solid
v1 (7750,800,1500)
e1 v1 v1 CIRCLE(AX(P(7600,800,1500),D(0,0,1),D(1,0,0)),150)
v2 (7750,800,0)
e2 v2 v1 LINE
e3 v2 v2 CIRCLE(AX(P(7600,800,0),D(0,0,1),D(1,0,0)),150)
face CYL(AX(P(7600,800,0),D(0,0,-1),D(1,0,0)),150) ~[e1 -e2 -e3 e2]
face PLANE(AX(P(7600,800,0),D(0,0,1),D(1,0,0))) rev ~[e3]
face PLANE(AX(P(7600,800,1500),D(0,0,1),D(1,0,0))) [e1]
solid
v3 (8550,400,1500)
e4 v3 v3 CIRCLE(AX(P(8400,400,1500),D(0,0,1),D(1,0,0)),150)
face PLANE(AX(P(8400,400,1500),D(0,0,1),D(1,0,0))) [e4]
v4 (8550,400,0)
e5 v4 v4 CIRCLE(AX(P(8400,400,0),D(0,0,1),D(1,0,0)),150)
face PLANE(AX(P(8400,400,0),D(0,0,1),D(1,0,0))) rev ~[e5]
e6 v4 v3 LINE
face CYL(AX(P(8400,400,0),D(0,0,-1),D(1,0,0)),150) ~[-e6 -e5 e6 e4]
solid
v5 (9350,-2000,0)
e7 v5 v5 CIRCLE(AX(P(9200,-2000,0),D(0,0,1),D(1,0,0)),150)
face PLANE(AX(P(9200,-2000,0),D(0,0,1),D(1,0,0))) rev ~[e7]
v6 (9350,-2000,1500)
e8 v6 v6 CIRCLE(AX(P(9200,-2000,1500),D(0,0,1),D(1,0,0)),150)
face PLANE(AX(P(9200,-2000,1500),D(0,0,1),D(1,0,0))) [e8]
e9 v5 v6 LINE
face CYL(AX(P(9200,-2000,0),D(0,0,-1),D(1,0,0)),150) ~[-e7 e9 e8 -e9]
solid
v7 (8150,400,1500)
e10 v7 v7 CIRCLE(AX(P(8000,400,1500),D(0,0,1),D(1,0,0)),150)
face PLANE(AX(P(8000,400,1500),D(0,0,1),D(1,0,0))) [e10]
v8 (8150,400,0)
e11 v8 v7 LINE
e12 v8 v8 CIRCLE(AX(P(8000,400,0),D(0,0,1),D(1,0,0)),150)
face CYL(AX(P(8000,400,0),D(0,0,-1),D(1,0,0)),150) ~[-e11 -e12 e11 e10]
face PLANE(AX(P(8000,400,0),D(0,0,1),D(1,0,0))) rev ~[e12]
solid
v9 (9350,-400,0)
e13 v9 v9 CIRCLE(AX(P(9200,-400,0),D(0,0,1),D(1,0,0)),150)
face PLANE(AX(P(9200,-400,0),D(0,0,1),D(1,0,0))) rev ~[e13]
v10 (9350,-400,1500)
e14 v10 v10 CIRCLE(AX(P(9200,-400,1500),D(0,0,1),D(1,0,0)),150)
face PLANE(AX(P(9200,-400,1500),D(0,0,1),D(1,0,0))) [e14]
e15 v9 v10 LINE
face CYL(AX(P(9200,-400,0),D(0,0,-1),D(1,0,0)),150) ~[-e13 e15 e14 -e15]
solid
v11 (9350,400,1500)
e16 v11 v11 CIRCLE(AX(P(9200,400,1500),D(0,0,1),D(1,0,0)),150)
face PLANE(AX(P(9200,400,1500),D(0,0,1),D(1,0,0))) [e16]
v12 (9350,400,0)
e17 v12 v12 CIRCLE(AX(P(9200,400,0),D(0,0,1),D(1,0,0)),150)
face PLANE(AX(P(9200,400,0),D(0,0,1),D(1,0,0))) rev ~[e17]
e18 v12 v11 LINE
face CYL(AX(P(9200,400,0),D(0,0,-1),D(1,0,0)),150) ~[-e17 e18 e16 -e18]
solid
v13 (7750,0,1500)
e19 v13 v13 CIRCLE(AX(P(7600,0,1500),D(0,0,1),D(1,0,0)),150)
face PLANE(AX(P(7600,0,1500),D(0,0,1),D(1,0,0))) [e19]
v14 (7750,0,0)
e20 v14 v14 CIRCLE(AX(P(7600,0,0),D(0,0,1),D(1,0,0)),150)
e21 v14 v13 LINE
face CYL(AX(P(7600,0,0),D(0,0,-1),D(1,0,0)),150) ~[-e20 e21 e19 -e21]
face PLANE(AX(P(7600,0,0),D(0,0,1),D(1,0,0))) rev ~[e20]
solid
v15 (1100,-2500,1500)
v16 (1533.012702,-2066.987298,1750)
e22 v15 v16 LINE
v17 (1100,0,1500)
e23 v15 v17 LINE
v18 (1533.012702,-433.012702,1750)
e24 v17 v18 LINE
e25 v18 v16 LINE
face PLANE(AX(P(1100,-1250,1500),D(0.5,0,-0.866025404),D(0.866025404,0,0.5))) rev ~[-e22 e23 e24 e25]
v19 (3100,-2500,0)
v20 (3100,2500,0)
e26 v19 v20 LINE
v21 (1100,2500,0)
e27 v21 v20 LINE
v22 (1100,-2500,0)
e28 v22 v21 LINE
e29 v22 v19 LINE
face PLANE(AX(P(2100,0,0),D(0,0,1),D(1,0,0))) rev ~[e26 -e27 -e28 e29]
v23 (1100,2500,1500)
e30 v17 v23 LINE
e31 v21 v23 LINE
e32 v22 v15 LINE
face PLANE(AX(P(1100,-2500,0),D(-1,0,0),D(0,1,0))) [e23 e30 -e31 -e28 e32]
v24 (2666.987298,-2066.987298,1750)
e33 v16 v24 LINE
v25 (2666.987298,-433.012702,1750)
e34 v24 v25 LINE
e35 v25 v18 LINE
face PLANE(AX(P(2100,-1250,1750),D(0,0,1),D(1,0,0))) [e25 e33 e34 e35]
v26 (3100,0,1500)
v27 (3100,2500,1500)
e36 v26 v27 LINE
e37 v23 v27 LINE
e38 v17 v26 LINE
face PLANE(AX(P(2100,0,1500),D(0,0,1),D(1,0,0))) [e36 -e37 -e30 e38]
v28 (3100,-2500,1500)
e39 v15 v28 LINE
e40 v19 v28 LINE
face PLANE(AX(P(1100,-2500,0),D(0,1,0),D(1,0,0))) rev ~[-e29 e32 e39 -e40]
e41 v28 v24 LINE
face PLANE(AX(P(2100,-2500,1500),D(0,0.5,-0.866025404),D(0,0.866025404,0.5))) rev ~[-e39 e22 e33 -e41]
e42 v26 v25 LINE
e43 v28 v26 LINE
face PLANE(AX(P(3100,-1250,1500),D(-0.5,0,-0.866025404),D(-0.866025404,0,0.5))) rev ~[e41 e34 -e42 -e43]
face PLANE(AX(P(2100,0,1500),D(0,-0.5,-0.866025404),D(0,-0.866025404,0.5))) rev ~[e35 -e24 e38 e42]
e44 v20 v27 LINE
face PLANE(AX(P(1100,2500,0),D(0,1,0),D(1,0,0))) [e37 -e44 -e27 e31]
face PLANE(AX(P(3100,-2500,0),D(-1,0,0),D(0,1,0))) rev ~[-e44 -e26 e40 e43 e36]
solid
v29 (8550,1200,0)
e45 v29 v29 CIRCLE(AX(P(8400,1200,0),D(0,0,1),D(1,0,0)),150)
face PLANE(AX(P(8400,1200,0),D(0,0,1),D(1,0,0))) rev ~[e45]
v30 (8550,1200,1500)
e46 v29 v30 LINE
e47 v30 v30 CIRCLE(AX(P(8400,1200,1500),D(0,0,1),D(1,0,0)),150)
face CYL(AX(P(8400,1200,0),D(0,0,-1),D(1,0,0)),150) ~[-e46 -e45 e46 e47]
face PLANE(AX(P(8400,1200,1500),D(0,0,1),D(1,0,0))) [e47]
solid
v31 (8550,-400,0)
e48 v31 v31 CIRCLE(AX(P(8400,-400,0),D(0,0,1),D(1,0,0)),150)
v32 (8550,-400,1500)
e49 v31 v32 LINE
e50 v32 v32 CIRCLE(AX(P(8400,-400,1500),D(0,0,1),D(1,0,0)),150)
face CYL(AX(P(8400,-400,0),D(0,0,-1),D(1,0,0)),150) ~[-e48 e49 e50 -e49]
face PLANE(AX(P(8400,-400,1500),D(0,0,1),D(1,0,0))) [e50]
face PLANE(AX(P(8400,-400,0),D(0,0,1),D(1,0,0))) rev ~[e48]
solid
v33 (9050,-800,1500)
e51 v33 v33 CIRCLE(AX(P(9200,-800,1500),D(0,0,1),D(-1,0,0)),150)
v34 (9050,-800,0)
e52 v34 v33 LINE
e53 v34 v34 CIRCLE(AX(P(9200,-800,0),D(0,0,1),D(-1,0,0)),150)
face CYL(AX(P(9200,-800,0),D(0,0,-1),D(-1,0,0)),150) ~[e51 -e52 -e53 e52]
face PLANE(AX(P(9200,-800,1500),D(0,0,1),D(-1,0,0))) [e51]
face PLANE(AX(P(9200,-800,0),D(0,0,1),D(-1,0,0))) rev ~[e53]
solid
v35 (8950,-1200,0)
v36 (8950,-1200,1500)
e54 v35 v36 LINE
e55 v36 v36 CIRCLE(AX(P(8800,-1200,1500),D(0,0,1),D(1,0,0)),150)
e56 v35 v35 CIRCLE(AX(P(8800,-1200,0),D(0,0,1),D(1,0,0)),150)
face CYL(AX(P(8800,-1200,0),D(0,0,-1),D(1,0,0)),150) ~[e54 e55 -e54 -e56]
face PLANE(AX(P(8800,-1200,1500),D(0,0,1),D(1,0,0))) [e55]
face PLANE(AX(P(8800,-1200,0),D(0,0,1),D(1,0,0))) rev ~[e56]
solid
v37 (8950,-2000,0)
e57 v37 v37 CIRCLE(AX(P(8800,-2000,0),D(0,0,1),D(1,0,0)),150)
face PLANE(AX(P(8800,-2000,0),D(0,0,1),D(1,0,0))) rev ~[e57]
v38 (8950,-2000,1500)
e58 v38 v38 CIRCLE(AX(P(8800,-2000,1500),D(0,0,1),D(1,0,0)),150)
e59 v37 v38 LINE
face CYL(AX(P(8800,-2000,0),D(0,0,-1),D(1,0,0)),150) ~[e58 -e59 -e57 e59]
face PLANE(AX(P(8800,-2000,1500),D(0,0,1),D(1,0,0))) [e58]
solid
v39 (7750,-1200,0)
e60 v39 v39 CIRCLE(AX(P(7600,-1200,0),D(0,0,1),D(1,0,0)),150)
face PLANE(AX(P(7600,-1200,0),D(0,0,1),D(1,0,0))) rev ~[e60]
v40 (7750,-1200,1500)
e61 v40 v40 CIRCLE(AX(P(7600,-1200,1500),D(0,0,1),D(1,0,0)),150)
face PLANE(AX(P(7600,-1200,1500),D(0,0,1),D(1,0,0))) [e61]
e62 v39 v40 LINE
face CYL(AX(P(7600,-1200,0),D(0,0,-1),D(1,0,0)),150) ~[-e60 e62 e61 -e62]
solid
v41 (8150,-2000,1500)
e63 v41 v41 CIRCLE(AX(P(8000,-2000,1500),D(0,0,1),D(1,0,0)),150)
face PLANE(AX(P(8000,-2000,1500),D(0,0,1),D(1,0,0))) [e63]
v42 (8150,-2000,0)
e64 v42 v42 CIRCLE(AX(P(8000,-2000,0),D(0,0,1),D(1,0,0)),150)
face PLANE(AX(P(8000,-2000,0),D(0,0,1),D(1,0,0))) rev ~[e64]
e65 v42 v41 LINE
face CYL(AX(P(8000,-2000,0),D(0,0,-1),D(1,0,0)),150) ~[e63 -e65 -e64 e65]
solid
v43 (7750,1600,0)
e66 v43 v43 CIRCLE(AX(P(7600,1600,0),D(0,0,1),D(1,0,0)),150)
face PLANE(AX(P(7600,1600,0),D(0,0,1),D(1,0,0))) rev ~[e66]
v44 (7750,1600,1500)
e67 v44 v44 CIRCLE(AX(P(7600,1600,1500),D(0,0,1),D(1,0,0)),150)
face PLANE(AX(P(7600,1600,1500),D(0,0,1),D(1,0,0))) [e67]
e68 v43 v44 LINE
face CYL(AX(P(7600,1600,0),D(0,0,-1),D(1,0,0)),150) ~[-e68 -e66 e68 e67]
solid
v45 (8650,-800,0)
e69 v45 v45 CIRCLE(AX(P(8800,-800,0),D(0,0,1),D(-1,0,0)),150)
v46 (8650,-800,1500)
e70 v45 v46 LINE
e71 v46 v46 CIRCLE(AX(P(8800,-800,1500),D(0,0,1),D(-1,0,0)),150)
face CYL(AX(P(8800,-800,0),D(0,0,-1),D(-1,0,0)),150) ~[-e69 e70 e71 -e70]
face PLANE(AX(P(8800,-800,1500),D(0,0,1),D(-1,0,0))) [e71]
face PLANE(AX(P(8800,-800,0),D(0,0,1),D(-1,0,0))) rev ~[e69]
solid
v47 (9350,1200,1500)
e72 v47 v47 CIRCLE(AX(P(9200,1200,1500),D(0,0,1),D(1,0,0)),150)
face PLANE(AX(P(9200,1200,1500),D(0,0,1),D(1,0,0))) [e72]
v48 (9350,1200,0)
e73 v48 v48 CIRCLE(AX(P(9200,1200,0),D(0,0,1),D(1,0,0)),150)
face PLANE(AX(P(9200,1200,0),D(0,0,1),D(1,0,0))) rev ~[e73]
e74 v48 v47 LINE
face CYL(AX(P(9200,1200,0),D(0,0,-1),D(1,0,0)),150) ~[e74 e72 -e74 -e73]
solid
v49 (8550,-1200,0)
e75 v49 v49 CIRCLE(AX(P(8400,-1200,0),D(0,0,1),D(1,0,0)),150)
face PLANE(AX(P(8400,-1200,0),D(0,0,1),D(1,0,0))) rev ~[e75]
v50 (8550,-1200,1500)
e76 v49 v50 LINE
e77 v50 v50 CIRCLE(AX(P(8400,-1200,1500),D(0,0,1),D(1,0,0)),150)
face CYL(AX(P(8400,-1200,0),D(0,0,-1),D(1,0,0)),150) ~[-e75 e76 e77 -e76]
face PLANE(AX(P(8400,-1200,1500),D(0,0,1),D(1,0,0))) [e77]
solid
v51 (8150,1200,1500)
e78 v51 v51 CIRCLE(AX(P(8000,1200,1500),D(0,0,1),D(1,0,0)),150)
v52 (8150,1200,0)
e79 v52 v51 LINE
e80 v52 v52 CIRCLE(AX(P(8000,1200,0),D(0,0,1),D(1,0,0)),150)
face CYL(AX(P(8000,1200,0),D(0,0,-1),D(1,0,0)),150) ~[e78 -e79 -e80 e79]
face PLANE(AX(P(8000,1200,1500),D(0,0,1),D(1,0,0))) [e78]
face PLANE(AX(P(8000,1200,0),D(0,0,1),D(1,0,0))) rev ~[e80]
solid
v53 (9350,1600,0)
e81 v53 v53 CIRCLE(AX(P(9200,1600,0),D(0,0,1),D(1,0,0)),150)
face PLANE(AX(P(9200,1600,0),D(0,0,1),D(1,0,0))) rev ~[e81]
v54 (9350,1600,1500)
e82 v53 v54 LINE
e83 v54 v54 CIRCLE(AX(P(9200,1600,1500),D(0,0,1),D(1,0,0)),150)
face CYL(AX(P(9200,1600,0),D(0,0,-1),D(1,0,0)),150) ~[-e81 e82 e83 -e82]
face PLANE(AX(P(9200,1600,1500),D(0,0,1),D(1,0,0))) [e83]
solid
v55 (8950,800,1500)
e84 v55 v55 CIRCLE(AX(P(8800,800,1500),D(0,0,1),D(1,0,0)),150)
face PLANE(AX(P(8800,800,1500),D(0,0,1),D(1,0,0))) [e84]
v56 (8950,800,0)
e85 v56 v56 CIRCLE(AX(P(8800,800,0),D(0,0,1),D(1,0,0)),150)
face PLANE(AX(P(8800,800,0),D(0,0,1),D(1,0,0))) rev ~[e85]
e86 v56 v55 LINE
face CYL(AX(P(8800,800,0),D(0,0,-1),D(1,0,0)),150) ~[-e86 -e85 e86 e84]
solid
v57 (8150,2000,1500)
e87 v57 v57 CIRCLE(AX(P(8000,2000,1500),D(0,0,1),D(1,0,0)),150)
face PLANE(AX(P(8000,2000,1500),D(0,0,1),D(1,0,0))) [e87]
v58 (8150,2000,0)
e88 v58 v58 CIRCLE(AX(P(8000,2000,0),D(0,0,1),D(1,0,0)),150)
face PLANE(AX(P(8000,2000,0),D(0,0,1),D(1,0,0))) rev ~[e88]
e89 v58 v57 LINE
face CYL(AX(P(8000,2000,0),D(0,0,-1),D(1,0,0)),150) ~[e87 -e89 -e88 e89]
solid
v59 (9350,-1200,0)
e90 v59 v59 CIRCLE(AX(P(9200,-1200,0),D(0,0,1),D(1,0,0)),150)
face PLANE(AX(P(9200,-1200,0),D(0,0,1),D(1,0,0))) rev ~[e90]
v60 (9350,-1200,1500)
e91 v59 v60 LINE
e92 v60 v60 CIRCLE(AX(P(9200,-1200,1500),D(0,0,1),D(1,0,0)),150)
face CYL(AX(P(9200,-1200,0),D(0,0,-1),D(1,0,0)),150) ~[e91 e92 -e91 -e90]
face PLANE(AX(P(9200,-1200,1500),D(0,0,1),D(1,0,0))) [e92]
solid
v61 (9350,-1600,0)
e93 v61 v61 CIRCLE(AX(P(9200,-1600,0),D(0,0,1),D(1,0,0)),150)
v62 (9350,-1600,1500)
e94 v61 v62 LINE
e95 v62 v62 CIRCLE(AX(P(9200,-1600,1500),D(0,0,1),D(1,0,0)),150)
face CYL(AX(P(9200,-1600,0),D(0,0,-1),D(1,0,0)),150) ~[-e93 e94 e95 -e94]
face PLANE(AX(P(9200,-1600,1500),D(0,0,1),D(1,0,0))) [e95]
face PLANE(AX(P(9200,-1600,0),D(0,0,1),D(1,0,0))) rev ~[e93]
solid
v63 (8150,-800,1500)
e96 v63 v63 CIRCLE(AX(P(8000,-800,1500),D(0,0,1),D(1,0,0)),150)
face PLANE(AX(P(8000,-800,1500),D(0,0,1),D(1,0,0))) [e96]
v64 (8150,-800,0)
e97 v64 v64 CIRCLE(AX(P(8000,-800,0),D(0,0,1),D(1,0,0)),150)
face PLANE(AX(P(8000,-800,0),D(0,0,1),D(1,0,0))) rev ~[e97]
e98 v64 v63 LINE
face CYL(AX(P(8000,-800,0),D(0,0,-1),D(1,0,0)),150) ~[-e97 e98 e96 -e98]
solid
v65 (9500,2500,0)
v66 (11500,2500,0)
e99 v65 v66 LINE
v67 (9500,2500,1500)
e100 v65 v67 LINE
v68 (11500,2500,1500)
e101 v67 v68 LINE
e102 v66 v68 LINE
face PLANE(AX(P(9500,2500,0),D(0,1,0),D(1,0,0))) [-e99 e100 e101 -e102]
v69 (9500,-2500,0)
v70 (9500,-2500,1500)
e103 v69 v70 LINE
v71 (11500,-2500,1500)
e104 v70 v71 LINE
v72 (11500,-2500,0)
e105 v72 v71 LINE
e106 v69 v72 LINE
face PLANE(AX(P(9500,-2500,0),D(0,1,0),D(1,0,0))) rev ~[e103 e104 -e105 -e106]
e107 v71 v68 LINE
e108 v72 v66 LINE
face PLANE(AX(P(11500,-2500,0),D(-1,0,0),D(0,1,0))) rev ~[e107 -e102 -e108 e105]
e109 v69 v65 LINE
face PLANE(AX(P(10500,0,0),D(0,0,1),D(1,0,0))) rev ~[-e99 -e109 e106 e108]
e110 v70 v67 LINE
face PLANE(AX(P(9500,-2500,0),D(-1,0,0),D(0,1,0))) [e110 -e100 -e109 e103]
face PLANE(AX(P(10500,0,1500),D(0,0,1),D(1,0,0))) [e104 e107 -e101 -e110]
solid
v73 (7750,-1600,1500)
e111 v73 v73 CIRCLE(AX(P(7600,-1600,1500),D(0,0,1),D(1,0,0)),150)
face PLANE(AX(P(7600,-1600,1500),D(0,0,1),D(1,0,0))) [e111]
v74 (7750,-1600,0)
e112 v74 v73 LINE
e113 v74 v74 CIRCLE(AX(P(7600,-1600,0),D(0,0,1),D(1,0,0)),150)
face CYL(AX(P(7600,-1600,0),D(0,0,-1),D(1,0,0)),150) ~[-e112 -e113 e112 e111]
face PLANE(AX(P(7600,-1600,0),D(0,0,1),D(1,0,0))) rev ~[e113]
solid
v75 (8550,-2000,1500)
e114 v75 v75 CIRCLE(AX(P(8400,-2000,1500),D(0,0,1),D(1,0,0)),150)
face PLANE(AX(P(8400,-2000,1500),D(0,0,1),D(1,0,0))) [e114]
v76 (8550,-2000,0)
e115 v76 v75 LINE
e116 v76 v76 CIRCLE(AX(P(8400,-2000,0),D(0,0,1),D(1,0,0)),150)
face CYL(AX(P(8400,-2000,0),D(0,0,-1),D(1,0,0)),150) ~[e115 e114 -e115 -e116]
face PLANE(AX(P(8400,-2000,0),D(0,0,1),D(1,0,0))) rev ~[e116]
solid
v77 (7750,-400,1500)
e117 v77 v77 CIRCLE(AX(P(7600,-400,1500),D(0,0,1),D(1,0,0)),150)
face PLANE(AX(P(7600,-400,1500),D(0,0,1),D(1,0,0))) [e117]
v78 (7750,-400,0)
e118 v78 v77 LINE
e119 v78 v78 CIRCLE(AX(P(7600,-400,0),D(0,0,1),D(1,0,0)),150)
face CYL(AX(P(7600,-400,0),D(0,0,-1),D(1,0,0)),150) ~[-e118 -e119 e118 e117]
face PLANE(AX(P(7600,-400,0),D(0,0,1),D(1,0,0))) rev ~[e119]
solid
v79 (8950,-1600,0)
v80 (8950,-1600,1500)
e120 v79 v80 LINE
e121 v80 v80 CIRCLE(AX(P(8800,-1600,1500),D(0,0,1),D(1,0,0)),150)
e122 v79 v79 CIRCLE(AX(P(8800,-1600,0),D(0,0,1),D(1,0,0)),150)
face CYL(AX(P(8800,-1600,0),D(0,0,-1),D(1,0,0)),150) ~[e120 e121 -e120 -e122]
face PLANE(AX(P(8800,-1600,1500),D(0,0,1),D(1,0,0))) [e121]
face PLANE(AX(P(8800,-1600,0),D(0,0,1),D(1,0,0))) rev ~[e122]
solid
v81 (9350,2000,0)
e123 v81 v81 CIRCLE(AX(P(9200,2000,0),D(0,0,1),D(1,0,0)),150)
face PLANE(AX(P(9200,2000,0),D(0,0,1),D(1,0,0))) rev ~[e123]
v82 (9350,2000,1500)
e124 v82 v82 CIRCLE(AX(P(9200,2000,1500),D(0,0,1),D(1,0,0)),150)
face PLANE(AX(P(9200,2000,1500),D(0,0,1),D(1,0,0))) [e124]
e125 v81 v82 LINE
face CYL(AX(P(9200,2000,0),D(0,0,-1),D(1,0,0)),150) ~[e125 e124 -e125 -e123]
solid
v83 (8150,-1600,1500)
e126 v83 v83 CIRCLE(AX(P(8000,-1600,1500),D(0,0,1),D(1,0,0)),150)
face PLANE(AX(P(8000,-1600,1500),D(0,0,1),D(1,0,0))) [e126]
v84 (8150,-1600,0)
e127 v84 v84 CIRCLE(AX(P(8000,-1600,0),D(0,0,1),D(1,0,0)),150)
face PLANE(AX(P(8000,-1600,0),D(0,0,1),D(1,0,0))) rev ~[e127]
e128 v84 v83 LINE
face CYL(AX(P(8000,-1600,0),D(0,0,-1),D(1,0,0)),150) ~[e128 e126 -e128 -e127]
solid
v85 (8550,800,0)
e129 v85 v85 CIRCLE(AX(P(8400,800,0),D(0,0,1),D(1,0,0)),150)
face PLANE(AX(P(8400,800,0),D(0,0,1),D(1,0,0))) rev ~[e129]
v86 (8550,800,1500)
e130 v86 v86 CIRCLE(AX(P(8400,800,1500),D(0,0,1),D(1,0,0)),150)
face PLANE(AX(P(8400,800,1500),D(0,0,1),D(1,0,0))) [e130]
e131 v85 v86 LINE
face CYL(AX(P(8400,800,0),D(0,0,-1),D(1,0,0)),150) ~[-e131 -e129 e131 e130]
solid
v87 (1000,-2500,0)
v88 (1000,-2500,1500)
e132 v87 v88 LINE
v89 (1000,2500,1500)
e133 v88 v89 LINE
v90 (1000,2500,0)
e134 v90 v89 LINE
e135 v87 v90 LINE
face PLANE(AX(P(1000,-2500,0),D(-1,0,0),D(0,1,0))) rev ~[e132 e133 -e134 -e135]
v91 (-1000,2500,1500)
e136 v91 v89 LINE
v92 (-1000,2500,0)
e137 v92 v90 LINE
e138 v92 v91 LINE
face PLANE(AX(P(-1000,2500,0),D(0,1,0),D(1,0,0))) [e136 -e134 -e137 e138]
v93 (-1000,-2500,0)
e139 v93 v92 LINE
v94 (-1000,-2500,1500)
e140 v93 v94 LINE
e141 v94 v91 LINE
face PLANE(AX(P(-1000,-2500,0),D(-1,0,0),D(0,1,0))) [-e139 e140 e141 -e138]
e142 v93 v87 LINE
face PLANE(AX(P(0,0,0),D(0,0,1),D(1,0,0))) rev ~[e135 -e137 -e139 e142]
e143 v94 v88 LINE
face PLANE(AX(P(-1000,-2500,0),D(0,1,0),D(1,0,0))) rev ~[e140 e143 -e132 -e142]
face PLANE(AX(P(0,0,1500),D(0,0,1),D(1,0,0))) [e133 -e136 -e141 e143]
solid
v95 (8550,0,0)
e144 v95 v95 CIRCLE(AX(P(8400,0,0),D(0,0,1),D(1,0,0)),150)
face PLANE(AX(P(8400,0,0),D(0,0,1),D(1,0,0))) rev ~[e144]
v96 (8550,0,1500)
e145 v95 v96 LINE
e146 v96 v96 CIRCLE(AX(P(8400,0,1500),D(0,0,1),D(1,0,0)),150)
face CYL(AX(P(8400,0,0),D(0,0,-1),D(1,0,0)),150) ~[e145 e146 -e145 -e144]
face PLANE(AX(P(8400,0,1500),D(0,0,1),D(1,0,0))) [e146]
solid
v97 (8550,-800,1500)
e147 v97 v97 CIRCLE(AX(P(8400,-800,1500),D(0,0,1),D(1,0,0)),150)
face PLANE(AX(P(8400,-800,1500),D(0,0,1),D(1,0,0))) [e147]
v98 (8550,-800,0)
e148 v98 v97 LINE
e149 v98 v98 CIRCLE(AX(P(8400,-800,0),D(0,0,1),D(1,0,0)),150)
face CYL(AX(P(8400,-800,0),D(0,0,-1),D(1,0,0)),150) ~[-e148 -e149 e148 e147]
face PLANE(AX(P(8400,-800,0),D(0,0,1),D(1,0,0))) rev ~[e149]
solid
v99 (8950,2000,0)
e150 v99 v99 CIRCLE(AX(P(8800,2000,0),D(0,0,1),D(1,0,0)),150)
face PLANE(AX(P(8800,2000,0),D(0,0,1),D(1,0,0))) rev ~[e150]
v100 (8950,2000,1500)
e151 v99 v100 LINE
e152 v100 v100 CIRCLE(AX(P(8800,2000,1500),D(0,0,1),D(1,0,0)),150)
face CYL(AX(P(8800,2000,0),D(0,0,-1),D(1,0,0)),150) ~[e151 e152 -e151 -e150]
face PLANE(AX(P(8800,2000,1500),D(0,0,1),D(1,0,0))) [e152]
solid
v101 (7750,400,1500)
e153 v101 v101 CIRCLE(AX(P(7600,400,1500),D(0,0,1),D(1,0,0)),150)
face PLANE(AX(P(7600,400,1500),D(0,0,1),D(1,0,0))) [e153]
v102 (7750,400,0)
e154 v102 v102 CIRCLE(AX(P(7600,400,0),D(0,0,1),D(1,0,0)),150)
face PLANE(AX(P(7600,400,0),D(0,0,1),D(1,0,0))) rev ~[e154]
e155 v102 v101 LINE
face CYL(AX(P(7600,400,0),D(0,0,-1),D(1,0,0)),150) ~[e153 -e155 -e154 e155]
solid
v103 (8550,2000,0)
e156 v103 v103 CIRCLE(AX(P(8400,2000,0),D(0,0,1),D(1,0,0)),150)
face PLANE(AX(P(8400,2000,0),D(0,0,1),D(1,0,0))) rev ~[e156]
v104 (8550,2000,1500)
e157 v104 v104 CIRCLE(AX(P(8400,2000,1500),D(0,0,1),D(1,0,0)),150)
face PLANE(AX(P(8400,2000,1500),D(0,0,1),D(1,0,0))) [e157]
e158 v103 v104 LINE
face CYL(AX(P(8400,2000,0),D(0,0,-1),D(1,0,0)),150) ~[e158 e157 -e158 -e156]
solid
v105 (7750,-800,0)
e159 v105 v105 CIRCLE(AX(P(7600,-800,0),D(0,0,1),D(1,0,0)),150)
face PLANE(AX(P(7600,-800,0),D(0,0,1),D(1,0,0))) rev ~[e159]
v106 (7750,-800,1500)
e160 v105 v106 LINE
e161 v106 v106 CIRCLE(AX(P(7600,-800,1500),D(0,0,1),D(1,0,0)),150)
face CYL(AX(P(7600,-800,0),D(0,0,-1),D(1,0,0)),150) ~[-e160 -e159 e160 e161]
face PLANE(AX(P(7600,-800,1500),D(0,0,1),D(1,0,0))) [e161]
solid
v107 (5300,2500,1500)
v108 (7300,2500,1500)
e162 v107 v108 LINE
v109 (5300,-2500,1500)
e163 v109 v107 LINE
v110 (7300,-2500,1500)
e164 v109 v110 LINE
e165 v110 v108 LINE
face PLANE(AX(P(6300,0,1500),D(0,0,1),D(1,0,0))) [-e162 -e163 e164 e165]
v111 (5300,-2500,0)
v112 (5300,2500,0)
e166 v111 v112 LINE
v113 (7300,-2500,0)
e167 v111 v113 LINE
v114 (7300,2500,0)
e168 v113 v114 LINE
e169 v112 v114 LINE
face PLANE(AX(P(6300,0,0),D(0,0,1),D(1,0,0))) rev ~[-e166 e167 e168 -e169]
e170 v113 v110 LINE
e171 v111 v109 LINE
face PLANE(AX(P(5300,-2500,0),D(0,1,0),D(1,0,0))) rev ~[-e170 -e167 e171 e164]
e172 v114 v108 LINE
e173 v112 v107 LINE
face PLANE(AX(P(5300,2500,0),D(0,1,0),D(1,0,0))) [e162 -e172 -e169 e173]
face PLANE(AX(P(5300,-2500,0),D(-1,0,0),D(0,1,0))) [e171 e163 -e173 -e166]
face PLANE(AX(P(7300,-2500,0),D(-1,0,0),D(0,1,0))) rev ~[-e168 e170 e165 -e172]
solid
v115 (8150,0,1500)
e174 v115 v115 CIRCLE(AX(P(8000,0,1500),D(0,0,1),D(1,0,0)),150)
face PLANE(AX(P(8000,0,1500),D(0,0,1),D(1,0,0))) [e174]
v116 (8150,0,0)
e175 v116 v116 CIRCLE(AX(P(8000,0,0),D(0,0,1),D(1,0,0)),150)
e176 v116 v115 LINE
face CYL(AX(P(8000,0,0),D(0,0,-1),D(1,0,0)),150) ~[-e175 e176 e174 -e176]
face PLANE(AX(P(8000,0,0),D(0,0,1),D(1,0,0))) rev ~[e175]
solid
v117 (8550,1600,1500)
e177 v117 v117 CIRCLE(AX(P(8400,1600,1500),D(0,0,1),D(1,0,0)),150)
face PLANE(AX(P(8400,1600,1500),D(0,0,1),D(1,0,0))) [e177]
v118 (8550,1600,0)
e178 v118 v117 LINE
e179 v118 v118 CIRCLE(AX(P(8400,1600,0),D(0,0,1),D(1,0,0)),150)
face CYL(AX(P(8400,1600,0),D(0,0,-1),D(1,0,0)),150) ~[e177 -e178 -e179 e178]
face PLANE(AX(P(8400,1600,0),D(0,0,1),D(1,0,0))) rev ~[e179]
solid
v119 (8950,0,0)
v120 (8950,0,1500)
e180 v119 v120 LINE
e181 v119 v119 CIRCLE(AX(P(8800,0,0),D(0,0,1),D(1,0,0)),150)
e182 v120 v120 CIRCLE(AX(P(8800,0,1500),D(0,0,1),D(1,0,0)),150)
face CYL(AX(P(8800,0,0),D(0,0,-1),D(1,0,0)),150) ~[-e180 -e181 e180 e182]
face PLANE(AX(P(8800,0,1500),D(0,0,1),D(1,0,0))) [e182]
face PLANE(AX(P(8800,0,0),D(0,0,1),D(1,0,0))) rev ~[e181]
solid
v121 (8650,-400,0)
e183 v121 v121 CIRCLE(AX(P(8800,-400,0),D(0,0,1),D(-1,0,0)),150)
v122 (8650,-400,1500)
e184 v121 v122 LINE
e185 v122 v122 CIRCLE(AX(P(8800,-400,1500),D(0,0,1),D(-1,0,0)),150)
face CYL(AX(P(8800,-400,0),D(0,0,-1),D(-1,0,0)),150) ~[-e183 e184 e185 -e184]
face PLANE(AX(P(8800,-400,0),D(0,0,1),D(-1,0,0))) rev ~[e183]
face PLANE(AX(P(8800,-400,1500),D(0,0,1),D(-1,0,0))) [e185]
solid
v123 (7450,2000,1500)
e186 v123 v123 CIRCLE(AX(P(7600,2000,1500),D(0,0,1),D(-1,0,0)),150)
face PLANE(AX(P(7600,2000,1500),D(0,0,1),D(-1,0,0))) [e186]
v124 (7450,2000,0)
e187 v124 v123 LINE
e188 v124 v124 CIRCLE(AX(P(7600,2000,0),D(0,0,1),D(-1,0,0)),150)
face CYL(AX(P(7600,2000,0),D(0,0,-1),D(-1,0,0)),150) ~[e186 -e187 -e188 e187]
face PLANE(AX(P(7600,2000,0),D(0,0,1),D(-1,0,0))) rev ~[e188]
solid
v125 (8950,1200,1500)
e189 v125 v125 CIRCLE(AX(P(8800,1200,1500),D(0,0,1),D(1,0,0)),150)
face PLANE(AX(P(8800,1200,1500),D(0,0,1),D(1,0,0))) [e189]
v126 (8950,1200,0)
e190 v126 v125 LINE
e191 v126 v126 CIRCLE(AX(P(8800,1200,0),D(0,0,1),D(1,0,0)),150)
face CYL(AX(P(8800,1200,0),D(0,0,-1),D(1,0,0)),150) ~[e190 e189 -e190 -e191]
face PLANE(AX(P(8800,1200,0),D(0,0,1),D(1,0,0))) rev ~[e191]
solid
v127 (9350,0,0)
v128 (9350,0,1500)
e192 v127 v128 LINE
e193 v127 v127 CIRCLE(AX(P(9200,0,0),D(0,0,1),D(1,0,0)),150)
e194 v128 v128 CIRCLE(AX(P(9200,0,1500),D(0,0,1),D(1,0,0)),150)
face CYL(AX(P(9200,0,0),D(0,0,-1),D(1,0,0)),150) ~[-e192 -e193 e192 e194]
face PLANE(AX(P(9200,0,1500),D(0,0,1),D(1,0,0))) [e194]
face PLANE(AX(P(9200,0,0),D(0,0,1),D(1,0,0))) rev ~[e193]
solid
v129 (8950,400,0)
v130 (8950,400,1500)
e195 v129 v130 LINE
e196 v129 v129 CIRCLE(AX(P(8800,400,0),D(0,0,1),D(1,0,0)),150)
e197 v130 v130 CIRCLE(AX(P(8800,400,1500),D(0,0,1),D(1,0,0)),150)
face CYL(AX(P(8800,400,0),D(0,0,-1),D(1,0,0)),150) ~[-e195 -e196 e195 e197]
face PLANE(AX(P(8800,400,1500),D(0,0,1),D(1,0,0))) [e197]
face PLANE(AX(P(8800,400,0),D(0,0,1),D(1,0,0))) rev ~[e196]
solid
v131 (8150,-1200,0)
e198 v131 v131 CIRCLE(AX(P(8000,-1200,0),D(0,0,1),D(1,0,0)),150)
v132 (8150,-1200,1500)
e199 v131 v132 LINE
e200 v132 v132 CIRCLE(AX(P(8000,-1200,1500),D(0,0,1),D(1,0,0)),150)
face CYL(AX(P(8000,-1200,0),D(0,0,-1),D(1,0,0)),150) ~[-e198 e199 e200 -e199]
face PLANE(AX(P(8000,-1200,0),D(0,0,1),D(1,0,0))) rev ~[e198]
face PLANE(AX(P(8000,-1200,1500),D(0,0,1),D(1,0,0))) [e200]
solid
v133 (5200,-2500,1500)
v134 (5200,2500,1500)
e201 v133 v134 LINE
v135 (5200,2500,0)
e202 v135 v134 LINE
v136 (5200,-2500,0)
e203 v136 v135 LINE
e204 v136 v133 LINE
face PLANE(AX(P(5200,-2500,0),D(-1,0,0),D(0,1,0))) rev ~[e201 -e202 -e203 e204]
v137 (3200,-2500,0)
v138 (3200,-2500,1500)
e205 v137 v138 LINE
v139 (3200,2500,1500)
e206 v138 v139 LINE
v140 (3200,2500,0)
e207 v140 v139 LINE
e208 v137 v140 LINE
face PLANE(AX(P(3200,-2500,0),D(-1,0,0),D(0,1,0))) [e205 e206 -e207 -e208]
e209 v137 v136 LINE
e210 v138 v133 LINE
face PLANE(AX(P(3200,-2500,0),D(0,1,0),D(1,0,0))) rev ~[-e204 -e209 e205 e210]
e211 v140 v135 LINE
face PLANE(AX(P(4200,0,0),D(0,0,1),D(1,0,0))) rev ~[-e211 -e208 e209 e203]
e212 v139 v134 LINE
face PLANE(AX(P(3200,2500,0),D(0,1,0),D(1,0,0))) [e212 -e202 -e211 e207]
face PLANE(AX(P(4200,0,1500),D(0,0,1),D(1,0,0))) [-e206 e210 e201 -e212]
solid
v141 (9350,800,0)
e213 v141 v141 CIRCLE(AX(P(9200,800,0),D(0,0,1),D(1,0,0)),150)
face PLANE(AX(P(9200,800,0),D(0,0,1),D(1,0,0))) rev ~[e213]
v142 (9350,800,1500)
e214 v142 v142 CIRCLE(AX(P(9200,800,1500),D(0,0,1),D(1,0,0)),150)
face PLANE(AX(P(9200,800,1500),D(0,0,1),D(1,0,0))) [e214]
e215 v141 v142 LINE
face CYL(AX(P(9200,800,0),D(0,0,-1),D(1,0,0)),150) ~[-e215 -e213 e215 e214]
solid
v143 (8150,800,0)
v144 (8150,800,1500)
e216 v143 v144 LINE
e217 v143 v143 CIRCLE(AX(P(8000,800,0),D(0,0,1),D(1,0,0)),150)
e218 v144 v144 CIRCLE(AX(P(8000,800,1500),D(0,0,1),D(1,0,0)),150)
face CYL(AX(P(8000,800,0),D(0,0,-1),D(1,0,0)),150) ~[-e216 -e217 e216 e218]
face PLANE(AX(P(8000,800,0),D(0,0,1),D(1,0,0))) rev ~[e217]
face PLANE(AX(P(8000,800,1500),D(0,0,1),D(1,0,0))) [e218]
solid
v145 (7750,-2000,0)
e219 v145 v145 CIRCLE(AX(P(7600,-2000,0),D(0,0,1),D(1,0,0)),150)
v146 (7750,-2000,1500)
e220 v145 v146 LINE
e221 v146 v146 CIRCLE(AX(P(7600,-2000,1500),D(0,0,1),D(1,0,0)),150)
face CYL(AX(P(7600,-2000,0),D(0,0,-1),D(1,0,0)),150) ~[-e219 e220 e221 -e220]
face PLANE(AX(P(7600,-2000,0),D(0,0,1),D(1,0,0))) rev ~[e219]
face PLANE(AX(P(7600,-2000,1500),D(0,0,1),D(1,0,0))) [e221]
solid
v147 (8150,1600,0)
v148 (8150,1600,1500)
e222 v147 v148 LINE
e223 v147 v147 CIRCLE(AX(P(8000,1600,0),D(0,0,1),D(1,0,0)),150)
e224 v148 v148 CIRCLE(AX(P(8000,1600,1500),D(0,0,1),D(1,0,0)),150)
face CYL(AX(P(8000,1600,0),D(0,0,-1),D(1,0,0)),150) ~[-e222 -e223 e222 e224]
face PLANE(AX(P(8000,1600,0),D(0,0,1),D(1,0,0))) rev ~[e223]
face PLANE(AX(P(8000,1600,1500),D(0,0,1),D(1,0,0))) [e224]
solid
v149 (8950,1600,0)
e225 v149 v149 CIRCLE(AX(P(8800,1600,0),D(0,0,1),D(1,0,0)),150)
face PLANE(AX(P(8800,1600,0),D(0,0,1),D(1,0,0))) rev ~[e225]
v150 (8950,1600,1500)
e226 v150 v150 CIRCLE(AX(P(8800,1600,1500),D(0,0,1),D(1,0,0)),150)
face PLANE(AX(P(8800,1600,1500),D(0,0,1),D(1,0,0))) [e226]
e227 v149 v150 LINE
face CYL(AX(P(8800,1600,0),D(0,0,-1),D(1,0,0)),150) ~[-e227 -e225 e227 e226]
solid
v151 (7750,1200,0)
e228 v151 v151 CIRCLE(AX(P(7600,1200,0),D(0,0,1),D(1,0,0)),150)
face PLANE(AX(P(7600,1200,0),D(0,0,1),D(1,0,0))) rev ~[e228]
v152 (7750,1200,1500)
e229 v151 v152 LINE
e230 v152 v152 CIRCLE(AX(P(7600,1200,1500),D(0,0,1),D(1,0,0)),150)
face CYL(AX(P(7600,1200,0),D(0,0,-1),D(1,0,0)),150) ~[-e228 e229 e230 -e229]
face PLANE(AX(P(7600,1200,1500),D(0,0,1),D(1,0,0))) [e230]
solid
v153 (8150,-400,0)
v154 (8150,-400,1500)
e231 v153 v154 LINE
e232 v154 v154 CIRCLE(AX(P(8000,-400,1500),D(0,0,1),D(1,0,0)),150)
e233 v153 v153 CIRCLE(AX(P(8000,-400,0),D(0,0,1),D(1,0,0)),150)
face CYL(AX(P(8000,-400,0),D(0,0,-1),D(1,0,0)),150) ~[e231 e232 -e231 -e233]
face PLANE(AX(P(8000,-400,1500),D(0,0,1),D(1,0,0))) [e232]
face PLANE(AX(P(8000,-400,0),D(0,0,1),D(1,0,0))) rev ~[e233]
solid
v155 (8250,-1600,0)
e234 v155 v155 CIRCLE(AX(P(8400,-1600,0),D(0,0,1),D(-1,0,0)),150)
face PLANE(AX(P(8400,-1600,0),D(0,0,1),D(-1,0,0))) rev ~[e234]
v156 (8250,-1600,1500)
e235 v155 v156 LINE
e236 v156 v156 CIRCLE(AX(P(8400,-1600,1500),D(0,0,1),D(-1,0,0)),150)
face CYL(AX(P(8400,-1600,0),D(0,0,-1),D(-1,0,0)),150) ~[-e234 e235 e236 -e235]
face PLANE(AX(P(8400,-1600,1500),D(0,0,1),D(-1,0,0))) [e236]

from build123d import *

# Parameters (mm, degrees)
SKETCH2_W              = 2000
SKETCH2_H              = 5000
BOSS_EXTRUDE1_DEPTH    = 1500
BOSS_EXTRUDE1_2_DEPTH  = 1500
BOSS_EXTRUDE1_3_DEPTH  = 1500
BOSS_EXTRUDE1_4_DEPTH  = 1500
BOSS_EXTRUDE1_5_DEPTH  = 1500
SKETCH2_R              = 150
BOSS_EXTRUDE1_6_DEPTH  = 1500
BOSS_EXTRUDE1_7_DEPTH  = 1500
BOSS_EXTRUDE1_8_DEPTH  = 1500
BOSS_EXTRUDE1_9_DEPTH  = 1500
BOSS_EXTRUDE1_10_DEPTH = 1500
BOSS_EXTRUDE1_11_DEPTH = 1500
BOSS_EXTRUDE1_12_DEPTH = 1500
BOSS_EXTRUDE1_13_DEPTH = 1500
BOSS_EXTRUDE1_14_DEPTH = 1500
BOSS_EXTRUDE1_15_DEPTH = 1500
BOSS_EXTRUDE1_16_DEPTH = 1500
BOSS_EXTRUDE1_17_DEPTH = 1500
BOSS_EXTRUDE1_18_DEPTH = 1500
BOSS_EXTRUDE1_19_DEPTH = 1500
BOSS_EXTRUDE1_20_DEPTH = 1500
BOSS_EXTRUDE1_21_DEPTH = 1500
BOSS_EXTRUDE1_22_DEPTH = 1500
BOSS_EXTRUDE1_23_DEPTH = 1500
BOSS_EXTRUDE1_24_DEPTH = 1500
BOSS_EXTRUDE1_25_DEPTH = 1500
BOSS_EXTRUDE1_26_DEPTH = 1500
BOSS_EXTRUDE1_27_DEPTH = 1500
BOSS_EXTRUDE1_28_DEPTH = 1500
BOSS_EXTRUDE1_29_DEPTH = 1500
BOSS_EXTRUDE1_30_DEPTH = 1500
BOSS_EXTRUDE1_31_DEPTH = 1500
BOSS_EXTRUDE1_32_DEPTH = 1500
BOSS_EXTRUDE1_33_DEPTH = 1500
BOSS_EXTRUDE1_34_DEPTH = 1500
BOSS_EXTRUDE1_35_DEPTH = 1500
BOSS_EXTRUDE1_36_DEPTH = 1500
BOSS_EXTRUDE1_37_DEPTH = 1500
BOSS_EXTRUDE1_38_DEPTH = 1500
BOSS_EXTRUDE1_39_DEPTH = 1500
BOSS_EXTRUDE1_40_DEPTH = 1500
BOSS_EXTRUDE1_41_DEPTH = 1500
BOSS_EXTRUDE1_42_DEPTH = 1500
BOSS_EXTRUDE1_43_DEPTH = 1500
BOSS_EXTRUDE1_44_DEPTH = 1500
BOSS_EXTRUDE1_45_DEPTH = 1500
BOSS_EXTRUDE1_46_DEPTH = 1500
BOSS_EXTRUDE1_47_DEPTH = 1500
BOSS_EXTRUDE1_48_DEPTH = 1500
BOSS_EXTRUDE1_49_DEPTH = 1500
BOSS_EXTRUDE1_50_DEPTH = 1500
BOSS_EXTRUDE1_51_DEPTH = 1500
BOSS_EXTRUDE1_52_DEPTH = 1500
BOSS_EXTRUDE1_53_DEPTH = 1500
BOSS_EXTRUDE1_54_DEPTH = 1500
BOSS_EXTRUDE1_55_DEPTH = 1500
BOSS_EXTRUDE1_56_DEPTH = 1500
BOSS_EXTRUDE1_57_DEPTH = 1500
BOSS_EXTRUDE1_58_DEPTH = 1500
BOSS_EXTRUDE1_59_DEPTH = 1500
BOSS_EXTRUDE1_60_DEPTH = 1500
SKETCH3_W              = 2000
SKETCH3_H              = 2500
BOSS_EXTRUDE2_DEPTH    = 250
BOSS_EXTRUDE2_TAPER    = 60


with BuildPart() as part:
    # Sketch2 → Boss-Extrude1 (new body)
    with BuildSketch(Plane.XY):
        Rectangle(SKETCH2_W, SKETCH2_H)
    extrude(amount=BOSS_EXTRUDE1_DEPTH)


with BuildPart() as body_2:
    # Sketch2 → Boss-Extrude1 2 (new body)
    with BuildSketch(Plane.XY):
        with Locations((2100, 0)):
            Rectangle(SKETCH2_W, SKETCH2_H)
    extrude(amount=BOSS_EXTRUDE1_2_DEPTH)

    # Sketch3 → Boss-Extrude2 (add)
    with BuildSketch(Plane.XY.offset(1500)):
        with Locations((2100, -1250)):
            Rectangle(SKETCH3_W, SKETCH3_H)
    extrude(amount=BOSS_EXTRUDE2_DEPTH, taper=BOSS_EXTRUDE2_TAPER)


with BuildPart() as body_3:
    # Sketch2 → Boss-Extrude1 3 (new body)
    with BuildSketch(Plane.XY):
        with Locations((4200, 0)):
            Rectangle(SKETCH2_W, SKETCH2_H)
    extrude(amount=BOSS_EXTRUDE1_3_DEPTH)


with BuildPart() as body_4:
    # Sketch2 → Boss-Extrude1 4 (new body)
    with BuildSketch(Plane.XY):
        with Locations((6300, 0)):
            Rectangle(SKETCH2_W, SKETCH2_H)
    extrude(amount=BOSS_EXTRUDE1_4_DEPTH)


with BuildPart() as body_5:
    # Sketch2 → Boss-Extrude1 5 (new body)
    with BuildSketch(Plane.XY):
        with Locations((10500, 0)):
            Rectangle(SKETCH2_W, SKETCH2_H)
    extrude(amount=BOSS_EXTRUDE1_5_DEPTH)


with BuildPart() as body_6:
    # Sketch2 → Boss-Extrude1 6 (new body)
    with BuildSketch(Plane.XY):
        with Locations((7600, -2000)):
            Circle(SKETCH2_R)
    extrude(amount=BOSS_EXTRUDE1_6_DEPTH)


with BuildPart() as body_7:
    # Sketch2 → Boss-Extrude1 7 (new body)
    with BuildSketch(Plane.XY):
        with Locations((7600, -1600)):
            Circle(SKETCH2_R)
    extrude(amount=BOSS_EXTRUDE1_7_DEPTH)


with BuildPart() as body_8:
    # Sketch2 → Boss-Extrude1 8 (new body)
    with BuildSketch(Plane.XY):
        with Locations((7600, -1200)):
            Circle(SKETCH2_R)
    extrude(amount=BOSS_EXTRUDE1_8_DEPTH)


with BuildPart() as body_9:
    # Sketch2 → Boss-Extrude1 9 (new body)
    with BuildSketch(Plane.XY):
        with Locations((7600, -800)):
            Circle(SKETCH2_R)
    extrude(amount=BOSS_EXTRUDE1_9_DEPTH)


with BuildPart() as body_10:
    # Sketch2 → Boss-Extrude1 10 (new body)
    with BuildSketch(Plane.XY):
        with Locations((7600, -400)):
            Circle(SKETCH2_R)
    extrude(amount=BOSS_EXTRUDE1_10_DEPTH)


with BuildPart() as body_11:
    # Sketch2 → Boss-Extrude1 11 (new body)
    with BuildSketch(Plane.XY):
        with Locations((7600, 0)):
            Circle(SKETCH2_R)
    extrude(amount=BOSS_EXTRUDE1_11_DEPTH)


with BuildPart() as body_12:
    # Sketch2 → Boss-Extrude1 12 (new body)
    with BuildSketch(Plane.XY):
        with Locations((7600, 400)):
            Circle(SKETCH2_R)
    extrude(amount=BOSS_EXTRUDE1_12_DEPTH)


with BuildPart() as body_13:
    # Sketch2 → Boss-Extrude1 13 (new body)
    with BuildSketch(Plane.XY):
        with Locations((7600, 800)):
            Circle(SKETCH2_R)
    extrude(amount=BOSS_EXTRUDE1_13_DEPTH)


with BuildPart() as body_14:
    # Sketch2 → Boss-Extrude1 14 (new body)
    with BuildSketch(Plane.XY):
        with Locations((7600, 1200)):
            Circle(SKETCH2_R)
    extrude(amount=BOSS_EXTRUDE1_14_DEPTH)


with BuildPart() as body_15:
    # Sketch2 → Boss-Extrude1 15 (new body)
    with BuildSketch(Plane.XY):
        with Locations((7600, 1600)):
            Circle(SKETCH2_R)
    extrude(amount=BOSS_EXTRUDE1_15_DEPTH)


with BuildPart() as body_16:
    # Sketch2 → Boss-Extrude1 16 (new body)
    with BuildSketch(Plane.XY):
        with Locations((8000, 1600)):
            Circle(SKETCH2_R)
    extrude(amount=BOSS_EXTRUDE1_16_DEPTH)


with BuildPart() as body_17:
    # Sketch2 → Boss-Extrude1 17 (new body)
    with BuildSketch(Plane.XY):
        with Locations((8000, 2000)):
            Circle(SKETCH2_R)
    extrude(amount=BOSS_EXTRUDE1_17_DEPTH)


with BuildPart() as body_18:
    # Sketch2 → Boss-Extrude1 18 (new body)
    with BuildSketch(Plane.XY):
        with Locations((8000, 1200)):
            Circle(SKETCH2_R)
    extrude(amount=BOSS_EXTRUDE1_18_DEPTH)


with BuildPart() as body_19:
    # Sketch2 → Boss-Extrude1 19 (new body)
    with BuildSketch(Plane.XY):
        with Locations((8000, 800)):
            Circle(SKETCH2_R)
    extrude(amount=BOSS_EXTRUDE1_19_DEPTH)


with BuildPart() as body_20:
    # Sketch2 → Boss-Extrude1 20 (new body)
    with BuildSketch(Plane.XY):
        with Locations((8000, 400)):
            Circle(SKETCH2_R)
    extrude(amount=BOSS_EXTRUDE1_20_DEPTH)


with BuildPart() as body_21:
    # Sketch2 → Boss-Extrude1 21 (new body)
    with BuildSketch(Plane.XY):
        with Locations((8000, 0)):
            Circle(SKETCH2_R)
    extrude(amount=BOSS_EXTRUDE1_21_DEPTH)


with BuildPart() as body_22:
    # Sketch2 → Boss-Extrude1 22 (new body)
    with BuildSketch(Plane.XY):
        with Locations((8000, -400)):
            Circle(SKETCH2_R)
    extrude(amount=BOSS_EXTRUDE1_22_DEPTH)


with BuildPart() as body_23:
    # Sketch2 → Boss-Extrude1 23 (new body)
    with BuildSketch(Plane.XY):
        with Locations((8000, -800)):
            Circle(SKETCH2_R)
    extrude(amount=BOSS_EXTRUDE1_23_DEPTH)


with BuildPart() as body_24:
    # Sketch2 → Boss-Extrude1 24 (new body)
    with BuildSketch(Plane.XY):
        with Locations((8000, -1200)):
            Circle(SKETCH2_R)
    extrude(amount=BOSS_EXTRUDE1_24_DEPTH)


with BuildPart() as body_25:
    # Sketch2 → Boss-Extrude1 25 (new body)
    with BuildSketch(Plane.XY):
        with Locations((8000, -1600)):
            Circle(SKETCH2_R)
    extrude(amount=BOSS_EXTRUDE1_25_DEPTH)


with BuildPart() as body_26:
    # Sketch2 → Boss-Extrude1 26 (new body)
    with BuildSketch(Plane.XY):
        with Locations((8000, -2000)):
            Circle(SKETCH2_R)
    extrude(amount=BOSS_EXTRUDE1_26_DEPTH)


with BuildPart() as body_27:
    # Sketch2 → Boss-Extrude1 27 (new body)
    with BuildSketch(Plane.XY):
        with Locations((8400, -2000)):
            Circle(SKETCH2_R)
    extrude(amount=BOSS_EXTRUDE1_27_DEPTH)


with BuildPart() as body_28:
    # Sketch2 → Boss-Extrude1 28 (new body)
    with BuildSketch(Plane.XY):
        with Locations((8400, -1200)):
            Circle(SKETCH2_R)
    extrude(amount=BOSS_EXTRUDE1_28_DEPTH)


with BuildPart() as body_29:
    # Sketch2 → Boss-Extrude1 29 (new body)
    with BuildSketch(Plane.XY):
        with Locations((8400, -800)):
            Circle(SKETCH2_R)
    extrude(amount=BOSS_EXTRUDE1_29_DEPTH)


with BuildPart() as body_30:
    # Sketch2 → Boss-Extrude1 30 (new body)
    with BuildSketch(Plane.XY):
        with Locations((8400, -400)):
            Circle(SKETCH2_R)
    extrude(amount=BOSS_EXTRUDE1_30_DEPTH)


with BuildPart() as body_31:
    # Sketch2 → Boss-Extrude1 31 (new body)
    with BuildSketch(Plane.XY):
        with Locations((8400, 400)):
            Circle(SKETCH2_R)
    extrude(amount=BOSS_EXTRUDE1_31_DEPTH)


with BuildPart() as body_32:
    # Sketch2 → Boss-Extrude1 32 (new body)
    with BuildSketch(Plane.XY):
        with Locations((8400, 800)):
            Circle(SKETCH2_R)
    extrude(amount=BOSS_EXTRUDE1_32_DEPTH)


with BuildPart() as body_33:
    # Sketch2 → Boss-Extrude1 33 (new body)
    with BuildSketch(Plane.XY):
        with Locations((8400, 1200)):
            Circle(SKETCH2_R)
    extrude(amount=BOSS_EXTRUDE1_33_DEPTH)


with BuildPart() as body_34:
    # Sketch2 → Boss-Extrude1 34 (new body)
    with BuildSketch(Plane.XY):
        with Locations((8400, 1600)):
            Circle(SKETCH2_R)
    extrude(amount=BOSS_EXTRUDE1_34_DEPTH)


with BuildPart() as body_35:
    # Sketch2 → Boss-Extrude1 35 (new body)
    with BuildSketch(Plane.XY):
        with Locations((8400, 2000)):
            Circle(SKETCH2_R)
    extrude(amount=BOSS_EXTRUDE1_35_DEPTH)


with BuildPart() as body_36:
    # Sketch2 → Boss-Extrude1 36 (new body)
    with BuildSketch(Plane.XY):
        with Locations((8800, 2000)):
            Circle(SKETCH2_R)
    extrude(amount=BOSS_EXTRUDE1_36_DEPTH)


with BuildPart() as body_37:
    # Sketch2 → Boss-Extrude1 37 (new body)
    with BuildSketch(Plane.XY):
        with Locations((8800, 1600)):
            Circle(SKETCH2_R)
    extrude(amount=BOSS_EXTRUDE1_37_DEPTH)


with BuildPart() as body_38:
    # Sketch2 → Boss-Extrude1 38 (new body)
    with BuildSketch(Plane.XY):
        with Locations((8800, 1200)):
            Circle(SKETCH2_R)
    extrude(amount=BOSS_EXTRUDE1_38_DEPTH)


with BuildPart() as body_39:
    # Sketch2 → Boss-Extrude1 39 (new body)
    with BuildSketch(Plane.XY):
        with Locations((8800, 800)):
            Circle(SKETCH2_R)
    extrude(amount=BOSS_EXTRUDE1_39_DEPTH)


with BuildPart() as body_40:
    # Sketch2 → Boss-Extrude1 40 (new body)
    with BuildSketch(Plane.XY):
        with Locations((8800, 400)):
            Circle(SKETCH2_R)
    extrude(amount=BOSS_EXTRUDE1_40_DEPTH)


with BuildPart() as body_41:
    # Sketch2 → Boss-Extrude1 41 (new body)
    with BuildSketch(Plane.XY):
        with Locations((8800, 0)):
            Circle(SKETCH2_R)
    extrude(amount=BOSS_EXTRUDE1_41_DEPTH)


with BuildPart() as body_42:
    # Sketch2 → Boss-Extrude1 42 (new body)
    with BuildSketch(Plane.XY):
        with Locations((8800, -1200)):
            Circle(SKETCH2_R)
    extrude(amount=BOSS_EXTRUDE1_42_DEPTH)


with BuildPart() as body_43:
    # Sketch2 → Boss-Extrude1 43 (new body)
    with BuildSketch(Plane.XY):
        with Locations((8800, -1600)):
            Circle(SKETCH2_R)
    extrude(amount=BOSS_EXTRUDE1_43_DEPTH)


with BuildPart() as body_44:
    # Sketch2 → Boss-Extrude1 44 (new body)
    with BuildSketch(Plane.XY):
        with Locations((8800, -2000)):
            Circle(SKETCH2_R)
    extrude(amount=BOSS_EXTRUDE1_44_DEPTH)


with BuildPart() as body_45:
    # Sketch2 → Boss-Extrude1 45 (new body)
    with BuildSketch(Plane.XY):
        with Locations((9200, -2000)):
            Circle(SKETCH2_R)
    extrude(amount=BOSS_EXTRUDE1_45_DEPTH)


with BuildPart() as body_46:
    # Sketch2 → Boss-Extrude1 46 (new body)
    with BuildSketch(Plane.XY):
        with Locations((9200, -1600)):
            Circle(SKETCH2_R)
    extrude(amount=BOSS_EXTRUDE1_46_DEPTH)


with BuildPart() as body_47:
    # Sketch2 → Boss-Extrude1 47 (new body)
    with BuildSketch(Plane.XY):
        with Locations((9200, -1200)):
            Circle(SKETCH2_R)
    extrude(amount=BOSS_EXTRUDE1_47_DEPTH)


with BuildPart() as body_48:
    # Sketch2 → Boss-Extrude1 48 (new body)
    with BuildSketch(Plane.XY):
        with Locations((9200, -400)):
            Circle(SKETCH2_R)
    extrude(amount=BOSS_EXTRUDE1_48_DEPTH)


with BuildPart() as body_49:
    # Sketch2 → Boss-Extrude1 49 (new body)
    with BuildSketch(Plane.XY):
        with Locations((9200, 400)):
            Circle(SKETCH2_R)
    extrude(amount=BOSS_EXTRUDE1_49_DEPTH)


with BuildPart() as body_50:
    # Sketch2 → Boss-Extrude1 50 (new body)
    with BuildSketch(Plane.XY):
        with Locations((9200, 800)):
            Circle(SKETCH2_R)
    extrude(amount=BOSS_EXTRUDE1_50_DEPTH)


with BuildPart() as body_51:
    # Sketch2 → Boss-Extrude1 51 (new body)
    with BuildSketch(Plane.XY):
        with Locations((9200, 1200)):
            Circle(SKETCH2_R)
    extrude(amount=BOSS_EXTRUDE1_51_DEPTH)


with BuildPart() as body_52:
    # Sketch2 → Boss-Extrude1 52 (new body)
    with BuildSketch(Plane.XY):
        with Locations((9200, 1600)):
            Circle(SKETCH2_R)
    extrude(amount=BOSS_EXTRUDE1_52_DEPTH)


with BuildPart() as body_53:
    # Sketch2 → Boss-Extrude1 53 (new body)
    with BuildSketch(Plane.XY):
        with Locations(Location((7600, 2000, 0), (0, 0, 180))):
            Circle(SKETCH2_R)
    extrude(amount=BOSS_EXTRUDE1_53_DEPTH)


with BuildPart() as body_54:
    # Sketch2 → Boss-Extrude1 54 (new body)
    with BuildSketch(Plane.XY):
        with Locations(Location((8400, -1600, 0), (0, 0, 180))):
            Circle(SKETCH2_R)
    extrude(amount=BOSS_EXTRUDE1_54_DEPTH)


with BuildPart() as body_55:
    # Sketch2 → Boss-Extrude1 55 (new body)
    with BuildSketch(Plane.XY):
        with Locations((8400, 0)):
            Circle(SKETCH2_R)
    extrude(amount=BOSS_EXTRUDE1_55_DEPTH)


with BuildPart() as body_56:
    # Sketch2 → Boss-Extrude1 56 (new body)
    with BuildSketch(Plane.XY):
        with Locations(Location((8800, -400, 0), (0, 0, 180))):
            Circle(SKETCH2_R)
    extrude(amount=BOSS_EXTRUDE1_56_DEPTH)


with BuildPart() as body_57:
    # Sketch2 → Boss-Extrude1 57 (new body)
    with BuildSketch(Plane.XY):
        with Locations(Location((8800, -800, 0), (0, 0, 180))):
            Circle(SKETCH2_R)
    extrude(amount=BOSS_EXTRUDE1_57_DEPTH)


with BuildPart() as body_58:
    # Sketch2 → Boss-Extrude1 58 (new body)
    with BuildSketch(Plane.XY):
        with Locations(Location((9200, -800, 0), (0, 0, 180))):
            Circle(SKETCH2_R)
    extrude(amount=BOSS_EXTRUDE1_58_DEPTH)


with BuildPart() as body_59:
    # Sketch2 → Boss-Extrude1 59 (new body)
    with BuildSketch(Plane.XY):
        with Locations((9200, 0)):
            Circle(SKETCH2_R)
    extrude(amount=BOSS_EXTRUDE1_59_DEPTH)


with BuildPart() as body_60:
    # Sketch2 → Boss-Extrude1 60 (new body)
    with BuildSketch(Plane.XY):
        with Locations((9200, 2000)):
            Circle(SKETCH2_R)
    extrude(amount=BOSS_EXTRUDE1_60_DEPTH)


solid = Compound([part.part, body_2.part, body_3.part, body_4.part, body_5.part, body_6.part, body_7.part, body_8.part, body_9.part, body_10.part, body_11.part, body_12.part, body_13.part, body_14.part, body_15.part, body_16.part, body_17.part, body_18.part, body_19.part, body_20.part, body_21.part, body_22.part, body_23.part, body_24.part, body_25.part, body_26.part, body_27.part, body_28.part, body_29.part, body_30.part, body_31.part, body_32.part, body_33.part, body_34.part, body_35.part, body_36.part, body_37.part, body_38.part, body_39.part, body_40.part, body_41.part, body_42.part, body_43.part, body_44.part, body_45.part, body_46.part, body_47.part, body_48.part, body_49.part, body_50.part, body_51.part, body_52.part, body_53.part, body_54.part, body_55.part, body_56.part, body_57.part, body_58.part, body_59.part, body_60.part])
